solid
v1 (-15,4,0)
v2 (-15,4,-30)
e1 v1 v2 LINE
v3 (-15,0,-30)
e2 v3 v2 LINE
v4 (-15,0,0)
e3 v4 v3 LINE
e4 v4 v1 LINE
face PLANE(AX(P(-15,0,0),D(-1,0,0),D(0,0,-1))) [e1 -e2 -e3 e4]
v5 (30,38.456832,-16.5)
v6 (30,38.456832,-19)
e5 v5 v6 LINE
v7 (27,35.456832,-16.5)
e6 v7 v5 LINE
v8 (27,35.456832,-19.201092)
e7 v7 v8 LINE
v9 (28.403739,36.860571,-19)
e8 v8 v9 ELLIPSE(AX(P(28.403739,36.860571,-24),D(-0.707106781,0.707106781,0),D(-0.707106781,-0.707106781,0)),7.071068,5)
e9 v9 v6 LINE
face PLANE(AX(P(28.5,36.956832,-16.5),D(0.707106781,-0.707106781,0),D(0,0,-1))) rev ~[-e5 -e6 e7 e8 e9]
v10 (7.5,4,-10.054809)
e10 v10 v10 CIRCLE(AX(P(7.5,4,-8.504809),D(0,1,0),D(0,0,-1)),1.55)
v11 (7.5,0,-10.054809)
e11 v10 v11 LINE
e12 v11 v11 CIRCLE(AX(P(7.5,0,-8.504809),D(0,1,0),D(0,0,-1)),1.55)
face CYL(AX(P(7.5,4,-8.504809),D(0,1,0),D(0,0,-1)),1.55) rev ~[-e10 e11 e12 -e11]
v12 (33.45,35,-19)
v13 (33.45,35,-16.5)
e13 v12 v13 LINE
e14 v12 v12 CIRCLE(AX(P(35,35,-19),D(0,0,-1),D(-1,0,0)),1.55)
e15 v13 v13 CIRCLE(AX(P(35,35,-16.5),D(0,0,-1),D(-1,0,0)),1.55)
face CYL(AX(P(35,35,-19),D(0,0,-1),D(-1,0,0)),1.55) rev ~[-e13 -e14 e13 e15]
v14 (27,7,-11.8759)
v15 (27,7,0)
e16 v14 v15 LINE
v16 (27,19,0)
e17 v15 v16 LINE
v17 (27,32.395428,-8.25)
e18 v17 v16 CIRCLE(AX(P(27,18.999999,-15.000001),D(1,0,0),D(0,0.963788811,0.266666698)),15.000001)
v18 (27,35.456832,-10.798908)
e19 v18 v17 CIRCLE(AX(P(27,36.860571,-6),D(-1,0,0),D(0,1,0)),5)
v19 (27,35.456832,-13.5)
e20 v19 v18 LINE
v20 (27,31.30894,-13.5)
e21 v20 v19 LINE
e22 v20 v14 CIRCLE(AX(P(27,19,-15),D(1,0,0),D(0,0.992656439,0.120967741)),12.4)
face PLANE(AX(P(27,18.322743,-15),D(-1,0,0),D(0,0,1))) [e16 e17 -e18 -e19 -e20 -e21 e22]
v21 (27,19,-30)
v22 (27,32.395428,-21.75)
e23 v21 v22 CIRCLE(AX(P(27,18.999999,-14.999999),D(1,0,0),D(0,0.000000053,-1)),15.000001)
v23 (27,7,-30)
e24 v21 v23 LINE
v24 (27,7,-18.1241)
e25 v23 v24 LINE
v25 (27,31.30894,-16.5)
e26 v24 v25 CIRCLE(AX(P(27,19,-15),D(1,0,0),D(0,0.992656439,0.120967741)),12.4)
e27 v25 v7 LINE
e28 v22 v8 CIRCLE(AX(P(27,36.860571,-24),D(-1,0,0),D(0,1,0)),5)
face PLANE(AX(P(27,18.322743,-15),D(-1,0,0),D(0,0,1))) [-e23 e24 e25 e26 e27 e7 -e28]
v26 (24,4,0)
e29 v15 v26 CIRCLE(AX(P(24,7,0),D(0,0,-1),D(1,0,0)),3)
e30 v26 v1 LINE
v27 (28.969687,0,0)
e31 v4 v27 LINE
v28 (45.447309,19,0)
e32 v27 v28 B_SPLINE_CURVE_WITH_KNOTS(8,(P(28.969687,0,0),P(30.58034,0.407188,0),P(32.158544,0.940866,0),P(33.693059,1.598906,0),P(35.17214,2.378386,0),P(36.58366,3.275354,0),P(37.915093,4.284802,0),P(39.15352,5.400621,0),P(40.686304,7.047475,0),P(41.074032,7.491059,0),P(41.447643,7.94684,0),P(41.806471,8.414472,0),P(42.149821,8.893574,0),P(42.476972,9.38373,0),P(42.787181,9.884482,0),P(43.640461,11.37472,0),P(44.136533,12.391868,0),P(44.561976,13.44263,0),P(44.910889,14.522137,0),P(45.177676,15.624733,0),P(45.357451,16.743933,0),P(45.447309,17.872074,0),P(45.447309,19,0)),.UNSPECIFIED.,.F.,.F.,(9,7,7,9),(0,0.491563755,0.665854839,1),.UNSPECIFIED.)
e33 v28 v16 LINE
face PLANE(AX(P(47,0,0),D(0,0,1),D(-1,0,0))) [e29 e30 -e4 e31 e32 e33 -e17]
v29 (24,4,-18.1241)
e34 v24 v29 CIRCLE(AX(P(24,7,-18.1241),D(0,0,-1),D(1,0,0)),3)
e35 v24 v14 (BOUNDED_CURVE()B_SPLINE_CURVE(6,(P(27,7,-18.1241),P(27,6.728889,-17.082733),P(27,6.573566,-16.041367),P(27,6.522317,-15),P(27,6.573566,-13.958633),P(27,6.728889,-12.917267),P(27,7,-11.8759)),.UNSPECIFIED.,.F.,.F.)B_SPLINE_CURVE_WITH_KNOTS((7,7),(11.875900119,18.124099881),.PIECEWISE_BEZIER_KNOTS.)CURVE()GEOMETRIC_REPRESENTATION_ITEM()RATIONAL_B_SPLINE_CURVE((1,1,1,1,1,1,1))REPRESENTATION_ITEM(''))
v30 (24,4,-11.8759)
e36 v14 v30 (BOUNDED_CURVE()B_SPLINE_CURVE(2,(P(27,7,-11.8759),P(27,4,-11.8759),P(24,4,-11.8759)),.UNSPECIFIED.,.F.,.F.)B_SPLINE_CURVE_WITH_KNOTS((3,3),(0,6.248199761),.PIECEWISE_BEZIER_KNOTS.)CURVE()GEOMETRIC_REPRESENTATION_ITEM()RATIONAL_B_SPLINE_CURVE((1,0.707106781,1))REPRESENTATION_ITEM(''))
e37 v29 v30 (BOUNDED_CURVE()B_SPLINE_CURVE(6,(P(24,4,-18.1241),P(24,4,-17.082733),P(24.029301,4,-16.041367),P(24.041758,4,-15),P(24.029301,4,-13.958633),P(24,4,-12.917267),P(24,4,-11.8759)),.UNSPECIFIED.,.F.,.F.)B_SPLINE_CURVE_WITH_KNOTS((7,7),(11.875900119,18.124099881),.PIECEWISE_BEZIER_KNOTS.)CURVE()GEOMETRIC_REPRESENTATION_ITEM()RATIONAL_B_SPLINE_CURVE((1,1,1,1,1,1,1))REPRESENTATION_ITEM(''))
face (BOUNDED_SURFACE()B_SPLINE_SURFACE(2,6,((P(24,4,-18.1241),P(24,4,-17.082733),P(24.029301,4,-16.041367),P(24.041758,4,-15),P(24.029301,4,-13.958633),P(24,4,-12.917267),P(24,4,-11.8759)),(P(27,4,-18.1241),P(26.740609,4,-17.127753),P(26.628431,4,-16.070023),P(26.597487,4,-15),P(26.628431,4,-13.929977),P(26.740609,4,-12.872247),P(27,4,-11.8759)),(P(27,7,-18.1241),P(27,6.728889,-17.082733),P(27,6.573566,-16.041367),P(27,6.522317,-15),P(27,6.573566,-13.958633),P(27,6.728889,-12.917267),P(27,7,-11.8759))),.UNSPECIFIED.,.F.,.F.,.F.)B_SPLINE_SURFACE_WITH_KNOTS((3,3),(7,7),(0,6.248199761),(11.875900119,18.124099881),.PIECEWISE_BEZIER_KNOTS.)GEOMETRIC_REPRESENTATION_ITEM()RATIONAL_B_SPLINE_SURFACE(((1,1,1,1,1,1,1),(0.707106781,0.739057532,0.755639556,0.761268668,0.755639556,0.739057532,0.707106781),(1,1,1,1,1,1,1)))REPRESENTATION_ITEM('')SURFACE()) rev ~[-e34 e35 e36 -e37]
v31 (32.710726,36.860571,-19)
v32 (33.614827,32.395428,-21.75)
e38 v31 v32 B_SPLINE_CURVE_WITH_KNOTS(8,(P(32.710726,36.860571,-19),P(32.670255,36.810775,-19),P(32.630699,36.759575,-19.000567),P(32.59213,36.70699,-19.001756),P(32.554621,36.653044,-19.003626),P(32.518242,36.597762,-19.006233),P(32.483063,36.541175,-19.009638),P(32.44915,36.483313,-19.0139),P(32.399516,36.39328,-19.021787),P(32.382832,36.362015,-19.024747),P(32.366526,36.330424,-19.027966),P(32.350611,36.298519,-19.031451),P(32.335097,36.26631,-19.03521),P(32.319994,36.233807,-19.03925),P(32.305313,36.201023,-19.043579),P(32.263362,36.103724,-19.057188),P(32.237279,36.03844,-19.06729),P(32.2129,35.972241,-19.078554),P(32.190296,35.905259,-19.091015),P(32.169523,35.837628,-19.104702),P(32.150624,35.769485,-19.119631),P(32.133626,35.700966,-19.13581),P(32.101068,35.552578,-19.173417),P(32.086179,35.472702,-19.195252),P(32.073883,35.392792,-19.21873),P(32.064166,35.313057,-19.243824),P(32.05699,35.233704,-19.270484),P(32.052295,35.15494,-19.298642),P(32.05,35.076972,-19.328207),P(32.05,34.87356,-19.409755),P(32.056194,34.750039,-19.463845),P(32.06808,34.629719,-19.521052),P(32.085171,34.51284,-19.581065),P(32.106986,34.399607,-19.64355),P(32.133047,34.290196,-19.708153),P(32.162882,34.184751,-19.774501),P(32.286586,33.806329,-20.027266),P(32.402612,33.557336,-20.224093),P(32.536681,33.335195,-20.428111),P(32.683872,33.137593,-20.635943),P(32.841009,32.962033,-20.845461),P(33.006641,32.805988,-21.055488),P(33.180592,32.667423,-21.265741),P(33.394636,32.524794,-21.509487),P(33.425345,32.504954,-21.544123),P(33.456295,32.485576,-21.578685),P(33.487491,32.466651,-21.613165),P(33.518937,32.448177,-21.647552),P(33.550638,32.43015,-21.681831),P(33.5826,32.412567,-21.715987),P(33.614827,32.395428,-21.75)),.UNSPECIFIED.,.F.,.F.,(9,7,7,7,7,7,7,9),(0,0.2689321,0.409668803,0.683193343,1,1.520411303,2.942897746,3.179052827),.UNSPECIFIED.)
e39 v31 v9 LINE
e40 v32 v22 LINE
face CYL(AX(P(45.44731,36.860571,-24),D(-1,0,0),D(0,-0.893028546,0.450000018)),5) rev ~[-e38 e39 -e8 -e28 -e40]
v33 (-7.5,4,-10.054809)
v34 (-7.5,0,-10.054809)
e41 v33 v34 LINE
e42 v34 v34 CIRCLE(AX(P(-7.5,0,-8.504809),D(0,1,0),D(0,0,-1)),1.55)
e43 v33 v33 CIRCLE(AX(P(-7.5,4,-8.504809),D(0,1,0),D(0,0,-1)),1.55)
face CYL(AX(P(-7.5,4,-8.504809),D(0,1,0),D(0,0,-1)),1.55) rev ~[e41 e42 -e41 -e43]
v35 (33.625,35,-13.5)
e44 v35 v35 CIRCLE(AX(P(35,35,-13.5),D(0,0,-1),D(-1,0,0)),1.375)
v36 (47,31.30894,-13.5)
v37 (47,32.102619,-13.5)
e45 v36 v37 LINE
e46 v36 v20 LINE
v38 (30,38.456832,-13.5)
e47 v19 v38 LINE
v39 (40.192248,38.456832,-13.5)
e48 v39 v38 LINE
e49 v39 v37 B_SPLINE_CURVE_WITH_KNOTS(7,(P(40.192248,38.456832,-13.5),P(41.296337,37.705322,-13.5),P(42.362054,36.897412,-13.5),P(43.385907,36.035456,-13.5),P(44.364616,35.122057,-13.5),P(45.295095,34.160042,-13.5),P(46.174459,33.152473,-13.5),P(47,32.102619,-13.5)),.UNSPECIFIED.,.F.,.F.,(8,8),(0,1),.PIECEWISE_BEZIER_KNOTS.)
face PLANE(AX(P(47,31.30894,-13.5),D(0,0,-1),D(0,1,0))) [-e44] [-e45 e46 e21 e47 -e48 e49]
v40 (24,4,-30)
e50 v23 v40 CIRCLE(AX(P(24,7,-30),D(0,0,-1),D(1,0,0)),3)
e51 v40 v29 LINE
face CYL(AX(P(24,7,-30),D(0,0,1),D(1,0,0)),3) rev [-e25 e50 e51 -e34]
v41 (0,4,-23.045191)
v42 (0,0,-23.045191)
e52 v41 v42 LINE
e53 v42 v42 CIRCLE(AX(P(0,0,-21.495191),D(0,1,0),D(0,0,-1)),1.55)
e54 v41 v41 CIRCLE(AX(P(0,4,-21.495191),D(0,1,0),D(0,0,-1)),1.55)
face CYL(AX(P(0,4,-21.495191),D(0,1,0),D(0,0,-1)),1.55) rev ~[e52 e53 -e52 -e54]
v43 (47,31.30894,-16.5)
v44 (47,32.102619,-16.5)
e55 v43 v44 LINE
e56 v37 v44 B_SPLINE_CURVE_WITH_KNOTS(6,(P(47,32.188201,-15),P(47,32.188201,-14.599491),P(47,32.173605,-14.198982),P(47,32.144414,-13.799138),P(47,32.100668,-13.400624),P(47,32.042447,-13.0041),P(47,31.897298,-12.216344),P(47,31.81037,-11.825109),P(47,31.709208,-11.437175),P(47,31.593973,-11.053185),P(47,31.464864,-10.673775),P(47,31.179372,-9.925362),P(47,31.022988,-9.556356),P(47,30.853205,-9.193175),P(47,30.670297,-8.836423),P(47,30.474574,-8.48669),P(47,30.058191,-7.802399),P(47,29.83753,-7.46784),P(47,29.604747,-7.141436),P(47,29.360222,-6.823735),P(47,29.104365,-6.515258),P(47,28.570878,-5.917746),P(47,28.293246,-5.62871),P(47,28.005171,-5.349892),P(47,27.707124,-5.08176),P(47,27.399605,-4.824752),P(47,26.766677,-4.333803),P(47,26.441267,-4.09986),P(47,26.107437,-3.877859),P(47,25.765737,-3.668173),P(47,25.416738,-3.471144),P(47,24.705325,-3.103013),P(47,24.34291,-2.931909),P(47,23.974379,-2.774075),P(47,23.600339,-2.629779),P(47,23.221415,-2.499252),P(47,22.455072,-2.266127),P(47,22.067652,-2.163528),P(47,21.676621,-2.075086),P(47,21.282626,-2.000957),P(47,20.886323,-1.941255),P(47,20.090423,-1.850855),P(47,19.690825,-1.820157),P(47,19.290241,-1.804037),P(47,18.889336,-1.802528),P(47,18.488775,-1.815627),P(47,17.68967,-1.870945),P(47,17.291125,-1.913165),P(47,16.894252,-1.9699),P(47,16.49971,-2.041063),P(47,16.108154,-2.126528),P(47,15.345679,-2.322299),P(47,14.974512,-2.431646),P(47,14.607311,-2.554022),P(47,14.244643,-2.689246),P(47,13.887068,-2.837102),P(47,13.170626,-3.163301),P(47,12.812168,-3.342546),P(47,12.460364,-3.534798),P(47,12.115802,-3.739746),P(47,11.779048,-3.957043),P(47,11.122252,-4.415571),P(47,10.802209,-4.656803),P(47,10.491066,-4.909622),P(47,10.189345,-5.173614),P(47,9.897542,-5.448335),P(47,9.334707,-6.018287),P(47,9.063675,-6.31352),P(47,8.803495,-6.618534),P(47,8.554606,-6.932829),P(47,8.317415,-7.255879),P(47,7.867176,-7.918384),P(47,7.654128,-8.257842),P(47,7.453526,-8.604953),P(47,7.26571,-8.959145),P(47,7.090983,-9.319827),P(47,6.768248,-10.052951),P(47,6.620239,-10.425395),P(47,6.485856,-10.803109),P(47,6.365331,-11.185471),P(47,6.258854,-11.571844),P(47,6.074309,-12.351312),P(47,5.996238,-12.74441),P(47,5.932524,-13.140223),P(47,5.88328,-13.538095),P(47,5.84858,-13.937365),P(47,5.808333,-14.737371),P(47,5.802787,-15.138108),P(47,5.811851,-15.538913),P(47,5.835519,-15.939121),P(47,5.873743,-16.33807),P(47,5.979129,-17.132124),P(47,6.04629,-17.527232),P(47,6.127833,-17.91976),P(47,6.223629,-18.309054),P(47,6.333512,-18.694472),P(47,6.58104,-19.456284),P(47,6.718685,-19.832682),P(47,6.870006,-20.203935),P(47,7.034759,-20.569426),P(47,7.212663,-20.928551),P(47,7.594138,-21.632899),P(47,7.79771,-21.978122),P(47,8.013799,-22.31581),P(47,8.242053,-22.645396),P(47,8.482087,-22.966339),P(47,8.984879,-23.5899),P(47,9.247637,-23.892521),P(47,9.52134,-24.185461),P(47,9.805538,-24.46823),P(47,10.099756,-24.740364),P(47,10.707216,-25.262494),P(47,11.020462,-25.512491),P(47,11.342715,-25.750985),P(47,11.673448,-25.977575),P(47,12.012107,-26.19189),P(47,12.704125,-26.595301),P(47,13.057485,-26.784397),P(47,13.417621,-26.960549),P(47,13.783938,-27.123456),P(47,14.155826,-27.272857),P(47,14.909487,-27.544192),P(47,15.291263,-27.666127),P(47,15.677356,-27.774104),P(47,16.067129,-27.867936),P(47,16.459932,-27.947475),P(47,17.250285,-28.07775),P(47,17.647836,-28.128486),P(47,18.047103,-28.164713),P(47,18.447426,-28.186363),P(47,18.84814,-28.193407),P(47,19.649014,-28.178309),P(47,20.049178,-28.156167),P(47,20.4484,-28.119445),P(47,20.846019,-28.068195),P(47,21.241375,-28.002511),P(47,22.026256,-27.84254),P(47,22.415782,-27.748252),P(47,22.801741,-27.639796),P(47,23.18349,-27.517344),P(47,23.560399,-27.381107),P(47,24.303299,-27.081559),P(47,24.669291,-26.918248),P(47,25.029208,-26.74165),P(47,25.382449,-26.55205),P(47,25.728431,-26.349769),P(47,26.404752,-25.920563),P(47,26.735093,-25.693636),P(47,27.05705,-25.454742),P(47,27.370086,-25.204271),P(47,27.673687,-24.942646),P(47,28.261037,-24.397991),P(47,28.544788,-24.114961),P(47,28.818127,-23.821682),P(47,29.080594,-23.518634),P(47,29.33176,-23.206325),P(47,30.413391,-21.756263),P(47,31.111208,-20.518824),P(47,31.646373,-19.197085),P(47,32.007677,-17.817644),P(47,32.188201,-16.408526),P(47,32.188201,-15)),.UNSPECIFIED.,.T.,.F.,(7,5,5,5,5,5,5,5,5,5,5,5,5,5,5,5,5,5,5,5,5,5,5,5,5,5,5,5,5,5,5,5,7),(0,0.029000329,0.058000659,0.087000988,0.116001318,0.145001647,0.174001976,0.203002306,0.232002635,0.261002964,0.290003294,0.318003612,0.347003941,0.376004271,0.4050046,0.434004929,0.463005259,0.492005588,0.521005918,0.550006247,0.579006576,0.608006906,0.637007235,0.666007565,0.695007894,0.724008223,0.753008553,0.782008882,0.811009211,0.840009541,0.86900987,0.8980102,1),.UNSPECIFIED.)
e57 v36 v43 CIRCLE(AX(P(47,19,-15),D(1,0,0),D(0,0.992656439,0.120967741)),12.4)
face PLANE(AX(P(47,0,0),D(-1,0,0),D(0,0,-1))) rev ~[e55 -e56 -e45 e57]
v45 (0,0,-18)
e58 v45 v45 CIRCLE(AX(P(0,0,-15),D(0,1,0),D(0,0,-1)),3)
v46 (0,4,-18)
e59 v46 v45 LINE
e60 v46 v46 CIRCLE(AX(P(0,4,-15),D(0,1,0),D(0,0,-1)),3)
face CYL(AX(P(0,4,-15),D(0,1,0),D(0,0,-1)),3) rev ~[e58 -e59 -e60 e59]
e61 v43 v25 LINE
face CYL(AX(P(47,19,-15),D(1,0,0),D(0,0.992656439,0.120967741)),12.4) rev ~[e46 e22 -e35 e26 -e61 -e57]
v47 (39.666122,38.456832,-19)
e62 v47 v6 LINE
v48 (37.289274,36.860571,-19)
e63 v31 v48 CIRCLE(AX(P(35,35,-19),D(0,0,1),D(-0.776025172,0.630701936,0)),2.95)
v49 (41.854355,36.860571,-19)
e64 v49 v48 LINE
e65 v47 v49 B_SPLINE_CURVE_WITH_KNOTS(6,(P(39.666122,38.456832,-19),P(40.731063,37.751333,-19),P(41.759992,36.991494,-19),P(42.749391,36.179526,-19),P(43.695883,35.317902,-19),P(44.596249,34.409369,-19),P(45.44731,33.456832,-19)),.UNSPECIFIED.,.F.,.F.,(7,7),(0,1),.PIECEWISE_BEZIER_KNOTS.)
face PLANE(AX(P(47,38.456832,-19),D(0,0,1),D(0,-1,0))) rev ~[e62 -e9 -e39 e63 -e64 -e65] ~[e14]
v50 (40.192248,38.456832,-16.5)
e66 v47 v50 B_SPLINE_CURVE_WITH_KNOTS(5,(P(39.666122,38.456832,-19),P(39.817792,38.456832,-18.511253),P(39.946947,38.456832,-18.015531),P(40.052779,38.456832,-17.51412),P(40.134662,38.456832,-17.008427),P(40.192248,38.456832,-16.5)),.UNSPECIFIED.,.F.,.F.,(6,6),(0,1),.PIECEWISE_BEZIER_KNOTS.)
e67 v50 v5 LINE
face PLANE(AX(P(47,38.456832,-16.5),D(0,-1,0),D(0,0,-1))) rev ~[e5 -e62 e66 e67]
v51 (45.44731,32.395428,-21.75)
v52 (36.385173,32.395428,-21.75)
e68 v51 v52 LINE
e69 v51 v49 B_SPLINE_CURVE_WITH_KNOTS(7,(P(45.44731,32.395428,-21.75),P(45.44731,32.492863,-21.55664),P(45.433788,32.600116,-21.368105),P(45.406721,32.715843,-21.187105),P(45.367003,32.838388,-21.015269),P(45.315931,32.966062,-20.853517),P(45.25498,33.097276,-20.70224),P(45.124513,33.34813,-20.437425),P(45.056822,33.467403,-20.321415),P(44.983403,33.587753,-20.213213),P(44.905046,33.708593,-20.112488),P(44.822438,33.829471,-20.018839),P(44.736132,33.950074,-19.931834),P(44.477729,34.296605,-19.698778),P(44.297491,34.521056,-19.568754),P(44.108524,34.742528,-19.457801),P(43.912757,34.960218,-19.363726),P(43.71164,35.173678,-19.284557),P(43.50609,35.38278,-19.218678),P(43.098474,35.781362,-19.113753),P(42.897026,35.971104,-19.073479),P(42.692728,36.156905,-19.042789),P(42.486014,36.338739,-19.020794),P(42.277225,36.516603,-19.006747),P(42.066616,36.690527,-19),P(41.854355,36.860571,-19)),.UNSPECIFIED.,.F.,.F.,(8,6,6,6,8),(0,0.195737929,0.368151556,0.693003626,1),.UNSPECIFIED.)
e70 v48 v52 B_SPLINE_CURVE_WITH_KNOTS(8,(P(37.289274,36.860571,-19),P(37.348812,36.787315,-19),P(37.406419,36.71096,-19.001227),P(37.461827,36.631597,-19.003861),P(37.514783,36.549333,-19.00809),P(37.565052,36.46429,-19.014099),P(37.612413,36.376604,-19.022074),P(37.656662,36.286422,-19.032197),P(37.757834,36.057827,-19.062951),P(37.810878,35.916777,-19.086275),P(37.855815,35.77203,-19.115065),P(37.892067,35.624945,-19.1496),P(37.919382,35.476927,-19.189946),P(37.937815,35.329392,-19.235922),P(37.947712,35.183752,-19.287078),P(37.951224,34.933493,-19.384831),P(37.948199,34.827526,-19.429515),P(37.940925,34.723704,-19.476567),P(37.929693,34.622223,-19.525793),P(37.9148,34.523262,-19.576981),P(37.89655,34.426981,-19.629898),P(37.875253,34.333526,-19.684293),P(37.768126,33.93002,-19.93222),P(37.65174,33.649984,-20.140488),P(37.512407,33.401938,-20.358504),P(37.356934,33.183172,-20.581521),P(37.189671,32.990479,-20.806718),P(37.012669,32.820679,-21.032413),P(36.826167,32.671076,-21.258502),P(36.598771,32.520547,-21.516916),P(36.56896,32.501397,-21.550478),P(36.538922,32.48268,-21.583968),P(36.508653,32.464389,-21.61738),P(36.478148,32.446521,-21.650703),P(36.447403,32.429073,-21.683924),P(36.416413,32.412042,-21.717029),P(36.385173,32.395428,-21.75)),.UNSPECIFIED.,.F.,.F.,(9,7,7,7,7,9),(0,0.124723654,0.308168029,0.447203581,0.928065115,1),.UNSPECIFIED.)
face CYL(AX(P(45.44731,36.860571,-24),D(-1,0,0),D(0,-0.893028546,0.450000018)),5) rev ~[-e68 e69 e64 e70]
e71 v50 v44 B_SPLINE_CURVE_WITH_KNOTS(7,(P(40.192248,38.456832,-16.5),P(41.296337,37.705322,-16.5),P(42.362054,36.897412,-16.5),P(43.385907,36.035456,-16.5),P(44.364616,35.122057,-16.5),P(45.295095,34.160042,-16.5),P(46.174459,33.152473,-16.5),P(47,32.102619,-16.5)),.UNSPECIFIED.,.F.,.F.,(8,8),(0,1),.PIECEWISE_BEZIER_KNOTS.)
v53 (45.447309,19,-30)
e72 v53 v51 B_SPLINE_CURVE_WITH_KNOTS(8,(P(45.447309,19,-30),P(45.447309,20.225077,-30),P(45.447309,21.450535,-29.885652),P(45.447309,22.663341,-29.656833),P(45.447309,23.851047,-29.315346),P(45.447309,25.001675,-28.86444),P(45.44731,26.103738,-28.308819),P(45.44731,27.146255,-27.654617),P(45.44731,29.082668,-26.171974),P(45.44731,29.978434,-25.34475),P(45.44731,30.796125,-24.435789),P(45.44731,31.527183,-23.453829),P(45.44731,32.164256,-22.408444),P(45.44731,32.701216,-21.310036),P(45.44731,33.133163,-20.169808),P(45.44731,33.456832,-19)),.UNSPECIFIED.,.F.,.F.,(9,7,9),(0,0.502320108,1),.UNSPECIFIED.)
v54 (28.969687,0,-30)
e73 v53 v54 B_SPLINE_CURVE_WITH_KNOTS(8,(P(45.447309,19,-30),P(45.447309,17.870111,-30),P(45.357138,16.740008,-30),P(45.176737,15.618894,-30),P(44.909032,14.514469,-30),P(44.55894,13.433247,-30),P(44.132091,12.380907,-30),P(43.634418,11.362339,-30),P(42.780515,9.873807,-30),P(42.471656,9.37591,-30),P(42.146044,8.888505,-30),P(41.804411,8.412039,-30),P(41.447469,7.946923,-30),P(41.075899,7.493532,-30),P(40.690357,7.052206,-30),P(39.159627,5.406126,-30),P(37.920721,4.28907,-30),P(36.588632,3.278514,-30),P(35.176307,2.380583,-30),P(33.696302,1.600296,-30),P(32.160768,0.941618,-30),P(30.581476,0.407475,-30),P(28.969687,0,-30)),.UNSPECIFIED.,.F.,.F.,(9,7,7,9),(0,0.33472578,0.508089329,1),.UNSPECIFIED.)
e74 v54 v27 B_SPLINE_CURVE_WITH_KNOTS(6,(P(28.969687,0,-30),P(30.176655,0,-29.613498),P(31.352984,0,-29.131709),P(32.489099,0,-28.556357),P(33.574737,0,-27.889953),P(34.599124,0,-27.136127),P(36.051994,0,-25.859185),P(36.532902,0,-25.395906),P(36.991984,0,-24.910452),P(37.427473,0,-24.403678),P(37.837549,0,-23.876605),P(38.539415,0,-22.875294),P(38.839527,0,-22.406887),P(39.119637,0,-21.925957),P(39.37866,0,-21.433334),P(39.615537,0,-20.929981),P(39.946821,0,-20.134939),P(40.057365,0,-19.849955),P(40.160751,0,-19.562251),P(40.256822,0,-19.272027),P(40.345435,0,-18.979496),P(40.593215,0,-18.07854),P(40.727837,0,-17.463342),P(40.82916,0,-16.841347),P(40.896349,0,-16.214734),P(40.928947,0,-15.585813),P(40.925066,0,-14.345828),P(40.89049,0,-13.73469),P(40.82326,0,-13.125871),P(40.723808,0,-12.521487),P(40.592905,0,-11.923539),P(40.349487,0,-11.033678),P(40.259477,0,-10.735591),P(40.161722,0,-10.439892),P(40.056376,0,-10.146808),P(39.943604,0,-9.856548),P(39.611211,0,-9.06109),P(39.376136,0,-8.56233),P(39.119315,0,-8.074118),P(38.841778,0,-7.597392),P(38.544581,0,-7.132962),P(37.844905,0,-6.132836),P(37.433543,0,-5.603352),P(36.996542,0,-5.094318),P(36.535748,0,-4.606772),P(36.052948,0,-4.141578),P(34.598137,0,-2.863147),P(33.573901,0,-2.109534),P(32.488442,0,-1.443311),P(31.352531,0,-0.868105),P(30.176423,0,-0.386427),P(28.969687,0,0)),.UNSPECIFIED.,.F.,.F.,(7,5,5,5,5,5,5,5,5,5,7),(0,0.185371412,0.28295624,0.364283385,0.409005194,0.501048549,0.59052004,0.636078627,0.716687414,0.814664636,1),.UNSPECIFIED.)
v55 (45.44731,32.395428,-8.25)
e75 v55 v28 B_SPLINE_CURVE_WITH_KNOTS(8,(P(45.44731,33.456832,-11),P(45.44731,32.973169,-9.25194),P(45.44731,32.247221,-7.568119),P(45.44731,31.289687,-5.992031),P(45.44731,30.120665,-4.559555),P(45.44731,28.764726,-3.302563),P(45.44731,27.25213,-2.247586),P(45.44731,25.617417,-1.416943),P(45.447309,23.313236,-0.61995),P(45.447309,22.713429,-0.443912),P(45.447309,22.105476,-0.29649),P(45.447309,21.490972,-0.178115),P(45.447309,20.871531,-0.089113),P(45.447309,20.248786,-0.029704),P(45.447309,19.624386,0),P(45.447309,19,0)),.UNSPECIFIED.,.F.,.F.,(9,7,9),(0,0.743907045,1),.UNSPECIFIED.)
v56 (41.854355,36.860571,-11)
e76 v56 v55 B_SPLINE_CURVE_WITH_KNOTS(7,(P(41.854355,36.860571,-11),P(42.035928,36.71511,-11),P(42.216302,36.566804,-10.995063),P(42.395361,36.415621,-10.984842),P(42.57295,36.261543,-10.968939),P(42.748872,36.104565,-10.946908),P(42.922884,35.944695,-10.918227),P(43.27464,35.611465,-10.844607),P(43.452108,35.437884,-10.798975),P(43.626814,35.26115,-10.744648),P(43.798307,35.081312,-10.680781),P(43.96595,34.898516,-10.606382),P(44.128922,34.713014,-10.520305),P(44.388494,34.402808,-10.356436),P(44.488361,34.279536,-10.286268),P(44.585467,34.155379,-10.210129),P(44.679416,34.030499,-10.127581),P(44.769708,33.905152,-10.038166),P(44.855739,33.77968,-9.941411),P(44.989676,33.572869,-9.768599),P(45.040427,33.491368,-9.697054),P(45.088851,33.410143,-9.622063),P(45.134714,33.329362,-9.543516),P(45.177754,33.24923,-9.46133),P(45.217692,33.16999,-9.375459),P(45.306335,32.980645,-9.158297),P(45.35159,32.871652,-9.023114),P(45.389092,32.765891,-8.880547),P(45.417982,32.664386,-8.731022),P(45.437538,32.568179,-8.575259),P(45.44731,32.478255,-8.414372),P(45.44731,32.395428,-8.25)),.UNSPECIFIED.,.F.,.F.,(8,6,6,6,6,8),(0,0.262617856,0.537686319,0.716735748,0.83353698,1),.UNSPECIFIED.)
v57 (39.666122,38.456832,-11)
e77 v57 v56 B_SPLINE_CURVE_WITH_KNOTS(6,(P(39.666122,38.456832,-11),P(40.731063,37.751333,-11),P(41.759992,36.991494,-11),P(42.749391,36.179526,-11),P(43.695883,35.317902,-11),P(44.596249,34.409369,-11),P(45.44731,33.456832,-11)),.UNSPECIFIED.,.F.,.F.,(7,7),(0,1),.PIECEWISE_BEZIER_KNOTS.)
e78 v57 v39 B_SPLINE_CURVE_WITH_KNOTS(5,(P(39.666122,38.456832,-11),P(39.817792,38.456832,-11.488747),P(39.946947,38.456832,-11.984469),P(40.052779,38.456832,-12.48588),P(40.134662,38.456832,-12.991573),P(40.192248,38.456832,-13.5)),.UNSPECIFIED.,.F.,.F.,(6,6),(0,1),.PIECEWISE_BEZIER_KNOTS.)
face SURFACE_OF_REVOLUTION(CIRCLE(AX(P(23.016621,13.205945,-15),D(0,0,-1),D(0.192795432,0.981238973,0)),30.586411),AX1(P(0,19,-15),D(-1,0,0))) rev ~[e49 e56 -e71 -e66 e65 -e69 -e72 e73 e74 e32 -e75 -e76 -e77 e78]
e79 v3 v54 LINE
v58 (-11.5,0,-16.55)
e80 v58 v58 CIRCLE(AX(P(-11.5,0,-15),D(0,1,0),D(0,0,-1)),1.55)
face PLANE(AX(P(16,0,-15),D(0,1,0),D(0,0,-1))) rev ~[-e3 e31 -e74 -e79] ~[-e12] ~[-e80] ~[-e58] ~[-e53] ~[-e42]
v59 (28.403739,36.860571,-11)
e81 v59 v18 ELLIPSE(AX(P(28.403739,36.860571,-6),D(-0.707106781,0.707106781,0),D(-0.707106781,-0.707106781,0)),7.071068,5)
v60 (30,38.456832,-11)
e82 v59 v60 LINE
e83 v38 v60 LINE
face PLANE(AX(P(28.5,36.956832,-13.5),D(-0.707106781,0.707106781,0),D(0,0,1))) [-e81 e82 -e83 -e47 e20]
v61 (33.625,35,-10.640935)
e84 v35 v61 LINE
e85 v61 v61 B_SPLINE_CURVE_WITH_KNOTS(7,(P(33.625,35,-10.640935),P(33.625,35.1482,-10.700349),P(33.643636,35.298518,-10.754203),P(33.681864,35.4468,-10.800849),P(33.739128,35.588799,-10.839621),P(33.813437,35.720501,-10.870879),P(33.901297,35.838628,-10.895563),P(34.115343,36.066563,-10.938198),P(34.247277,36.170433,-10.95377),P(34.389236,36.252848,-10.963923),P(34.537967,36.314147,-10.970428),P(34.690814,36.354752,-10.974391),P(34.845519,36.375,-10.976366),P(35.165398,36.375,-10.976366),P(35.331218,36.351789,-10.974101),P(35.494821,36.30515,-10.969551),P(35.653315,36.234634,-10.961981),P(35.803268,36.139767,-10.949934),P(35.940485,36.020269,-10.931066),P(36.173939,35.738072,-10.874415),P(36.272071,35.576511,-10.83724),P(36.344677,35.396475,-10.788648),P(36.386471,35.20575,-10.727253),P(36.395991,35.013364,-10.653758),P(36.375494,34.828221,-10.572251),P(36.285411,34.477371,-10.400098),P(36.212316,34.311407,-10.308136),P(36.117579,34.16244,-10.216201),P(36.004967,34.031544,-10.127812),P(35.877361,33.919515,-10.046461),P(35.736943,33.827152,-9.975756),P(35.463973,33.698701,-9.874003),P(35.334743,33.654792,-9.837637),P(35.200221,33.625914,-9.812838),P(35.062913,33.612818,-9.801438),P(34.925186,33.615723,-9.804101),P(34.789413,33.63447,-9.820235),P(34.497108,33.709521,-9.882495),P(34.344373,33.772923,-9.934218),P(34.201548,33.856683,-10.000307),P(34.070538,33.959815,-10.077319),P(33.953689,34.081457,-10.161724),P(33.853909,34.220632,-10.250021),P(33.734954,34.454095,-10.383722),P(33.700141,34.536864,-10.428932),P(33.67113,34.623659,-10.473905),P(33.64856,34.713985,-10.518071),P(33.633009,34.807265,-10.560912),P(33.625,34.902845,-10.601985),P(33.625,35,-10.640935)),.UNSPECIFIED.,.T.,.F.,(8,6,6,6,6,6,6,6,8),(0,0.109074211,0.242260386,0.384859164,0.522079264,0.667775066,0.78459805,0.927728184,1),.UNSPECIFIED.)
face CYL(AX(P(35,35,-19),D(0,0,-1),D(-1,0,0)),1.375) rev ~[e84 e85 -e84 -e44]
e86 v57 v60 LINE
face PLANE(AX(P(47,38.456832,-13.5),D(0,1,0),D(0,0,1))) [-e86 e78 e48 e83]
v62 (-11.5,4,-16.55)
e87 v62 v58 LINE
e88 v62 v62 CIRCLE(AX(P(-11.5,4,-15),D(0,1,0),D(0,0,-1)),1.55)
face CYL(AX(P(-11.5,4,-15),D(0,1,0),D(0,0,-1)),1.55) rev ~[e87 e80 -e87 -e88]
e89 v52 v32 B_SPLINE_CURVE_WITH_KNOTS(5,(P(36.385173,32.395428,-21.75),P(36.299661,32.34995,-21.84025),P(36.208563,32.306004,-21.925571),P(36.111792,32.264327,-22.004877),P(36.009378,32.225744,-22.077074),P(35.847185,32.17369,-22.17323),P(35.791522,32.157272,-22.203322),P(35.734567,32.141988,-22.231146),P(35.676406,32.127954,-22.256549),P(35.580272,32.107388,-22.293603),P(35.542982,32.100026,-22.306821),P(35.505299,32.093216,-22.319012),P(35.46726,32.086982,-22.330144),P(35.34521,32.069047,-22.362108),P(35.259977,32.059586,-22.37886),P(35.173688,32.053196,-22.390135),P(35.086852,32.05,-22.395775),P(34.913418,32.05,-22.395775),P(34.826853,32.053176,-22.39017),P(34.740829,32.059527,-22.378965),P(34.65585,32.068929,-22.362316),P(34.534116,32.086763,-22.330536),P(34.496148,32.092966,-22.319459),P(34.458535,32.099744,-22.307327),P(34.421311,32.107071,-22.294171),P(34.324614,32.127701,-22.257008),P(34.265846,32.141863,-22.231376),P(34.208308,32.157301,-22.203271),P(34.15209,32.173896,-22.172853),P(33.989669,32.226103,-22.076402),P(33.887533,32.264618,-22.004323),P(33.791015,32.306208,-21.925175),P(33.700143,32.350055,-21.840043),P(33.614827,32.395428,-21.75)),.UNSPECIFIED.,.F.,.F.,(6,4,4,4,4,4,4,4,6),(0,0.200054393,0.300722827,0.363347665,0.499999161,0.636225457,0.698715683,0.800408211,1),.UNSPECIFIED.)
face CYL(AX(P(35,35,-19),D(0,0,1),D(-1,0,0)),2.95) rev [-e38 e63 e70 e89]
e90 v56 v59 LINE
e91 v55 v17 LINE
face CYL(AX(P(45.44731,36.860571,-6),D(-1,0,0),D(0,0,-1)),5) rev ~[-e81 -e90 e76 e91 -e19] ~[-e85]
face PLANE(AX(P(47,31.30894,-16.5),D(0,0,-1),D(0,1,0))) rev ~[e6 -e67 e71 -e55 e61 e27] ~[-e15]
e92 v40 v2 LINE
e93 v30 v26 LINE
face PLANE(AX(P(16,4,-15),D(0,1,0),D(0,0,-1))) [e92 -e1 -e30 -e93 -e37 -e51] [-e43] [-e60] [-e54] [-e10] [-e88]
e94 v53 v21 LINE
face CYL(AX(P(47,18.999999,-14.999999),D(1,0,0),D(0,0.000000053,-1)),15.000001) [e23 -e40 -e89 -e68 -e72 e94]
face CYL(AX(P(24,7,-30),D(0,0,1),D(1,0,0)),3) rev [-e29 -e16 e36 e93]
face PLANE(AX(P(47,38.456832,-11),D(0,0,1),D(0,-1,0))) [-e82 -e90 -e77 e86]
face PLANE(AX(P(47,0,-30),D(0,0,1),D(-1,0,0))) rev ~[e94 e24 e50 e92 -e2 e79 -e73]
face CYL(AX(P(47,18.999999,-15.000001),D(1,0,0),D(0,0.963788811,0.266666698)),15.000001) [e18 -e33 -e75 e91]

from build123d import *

# Parameters (mm, degrees)
SKETCH074_W             = 30
SKETCH074_H             = 62
PAD034_DEPTH            = 4
PAD084_DEPTH            = 20
SKETCH164_R             = 1.55
POCKET003_DEPTH         = 5
CHAMFER_SIZE            = 3
FILLET_R                = 3
FILLET001_R             = 5
SKETCH_R                = 1.375
POCKET_DEPTH            = 19.001
POCKET_DEPTH_BACK       = -11.001
SKETCH166_R             = 2.95
POCKET004_DEPTH         = 5
SKETCH167_R             = 1.55
POCKET005_DEPTH         = 2.5
SKETCH168_R             = 3
POCKET006_DEPTH         = 5
BODY010_PITCH_ANGLE     = 90
BODY010_PLACEMENT_ANGLE = -180


with BuildPart() as part:
    # Sketch074 → Pad034 (new body)
    with BuildSketch(Plane.XZ):
        with Locations((15, -16)):
            Rectangle(SKETCH074_W, SKETCH074_H)
    extrude(amount=PAD034_DEPTH)

    # Sketch160 (on Face3 of Pad034) → Pad084 (join)
    with BuildSketch(Plane(origin=(0, 0, -47), x_dir=(1, 0, 0), z_dir=(0, 0, -1))):
        with BuildLine():
            Line((0, 0), (0, 19))
            ThreePointArc((11, 33.456832), (3.062664, 28.082951), (0, 19))
            Line((11, 38.456832), (11, 33.456832))
            Line((13.5, 38.456832), (11, 38.456832))
            Line((13.5, 31.30894), (13.5, 38.456832))
            ThreePointArc((13.5, 31.30894), (15, 6.6), (16.5, 31.30894))
            Line((16.5, 31.30894), (16.5, 38.456832))
            Line((16.5, 38.456832), (19, 38.456832))
            Line((19, 38.456832), (19, 33.456832))
            ThreePointArc((30, 19), (26.937336, 28.082951), (19, 33.456832))
            Line((30, 19), (30, 0))
            Line((30, 0), (0, 0))
        make_face()
    extrude(amount=-PAD084_DEPTH)

    # Sketch164 → Pocket003 (cut)
    with BuildSketch(Plane.XZ.offset(4)):
        with Locations((8.504809, 7.5)):
            Circle(SKETCH164_R)
        with Locations((8.504809, -7.5)):
            Circle(SKETCH164_R)
        with Locations((21.495191, 0)):
            Circle(SKETCH164_R)
        with Locations((15, 11.5)):
            Circle(SKETCH164_R)
    extrude(amount=-POCKET003_DEPTH, mode=Mode.SUBTRACT)

    # Sketch165 (on DatumPlane) → Groove (revolve, cut)
    with BuildSketch(Plane(origin=(15, 0, 0), x_dir=(0, 0, 1), z_dir=(1, 0, 0))):
        with BuildLine():
            Line((-51.816792, 23.505394), (-59.215083, 23.505394))
            Line((-59.215083, 23.505394), (-59.215083, 49.506645))
            Line((-59.215083, 49.506645), (-28.913541, 49.506645))
            Line((-28.913541, 49.506645), (-28.913541, 43.218523))
            ThreePointArc((-28.913541, 43.218523), (-42.969663, 36.387934), (-51.816792, 23.505394))
        make_face()
    revolve(axis=Axis((15, -19, 0), (0, 0, 1)), mode=Mode.SUBTRACT)

    # Chamfer
    chamfer_edges = [part.edges().sort_by_distance(p)[0] for p in [
        (17.75, -38.456832, -27),
        (12.25, -38.456832, -27),
    ]]
    chamfer(chamfer_edges, length=CHAMFER_SIZE)

    # Fillet
    fillet_edges = [part.edges().sort_by_distance(p)[0] for p in [
        (15, -4, -27),
    ]]
    fillet(fillet_edges, radius=FILLET_R)

    # Fillet001
    fillet001_edges = [part.edges().sort_by_distance(p)[0] for p in [
        (11, -33.456832, -36.223655),
        (19, -33.456832, -36.223655),
    ]]
    fillet(fillet001_edges, radius=FILLET001_R)

    # Sketch (on Face10 of Fillet001) → Pocket (cut, two sides)
    with BuildSketch(Plane(origin=(19, 0, 0), x_dir=(0, 0, 1), z_dir=(1, 0, 0))) as pocket_sk:
        with Locations((-35, 35)):
            Circle(SKETCH_R)
    extrude(amount=-POCKET_DEPTH, mode=Mode.SUBTRACT)
    extrude(pocket_sk.sketch, amount=-POCKET_DEPTH_BACK, mode=Mode.SUBTRACT)

    # Sketch166 (on Face10 of Pocket) → Pocket004 (cut)
    with BuildSketch(Plane(origin=(19, 0, 0), x_dir=(0, 0, 1), z_dir=(1, 0, 0))):
        with Locations((-35, 35)):
            Circle(SKETCH166_R)
    extrude(amount=POCKET004_DEPTH, mode=Mode.SUBTRACT)

    # Sketch167 (on Face23 of Pocket004) → Pocket005 (cut)
    with BuildSketch(Plane(origin=(19, 0, 0), x_dir=(0, 0, 1), z_dir=(1, 0, 0))):
        with Locations((-35, 35)):
            Circle(SKETCH167_R)
    extrude(amount=-POCKET005_DEPTH, mode=Mode.SUBTRACT)

    # Sketch168 (on Face17 of Pocket005) → Pocket006 (cut)
    with BuildSketch(Plane.XZ.offset(4)):
        with Locations((15, 0)):
            Circle(SKETCH168_R)
    extrude(amount=-POCKET006_DEPTH, mode=Mode.SUBTRACT)


with BuildPart() as part_1:
    # Body010 pitch: moved
    add(part.part.rotate(Axis((0, 0, 0), (0, 1, 0)), BODY010_PITCH_ANGLE))


with BuildPart() as part_2:
    # Body010 placement: moved
    add(part_1.part.rotate(Axis((0, 0, 0), (0, 0, 1)), BODY010_PLACEMENT_ANGLE))


solid = part_2.part
